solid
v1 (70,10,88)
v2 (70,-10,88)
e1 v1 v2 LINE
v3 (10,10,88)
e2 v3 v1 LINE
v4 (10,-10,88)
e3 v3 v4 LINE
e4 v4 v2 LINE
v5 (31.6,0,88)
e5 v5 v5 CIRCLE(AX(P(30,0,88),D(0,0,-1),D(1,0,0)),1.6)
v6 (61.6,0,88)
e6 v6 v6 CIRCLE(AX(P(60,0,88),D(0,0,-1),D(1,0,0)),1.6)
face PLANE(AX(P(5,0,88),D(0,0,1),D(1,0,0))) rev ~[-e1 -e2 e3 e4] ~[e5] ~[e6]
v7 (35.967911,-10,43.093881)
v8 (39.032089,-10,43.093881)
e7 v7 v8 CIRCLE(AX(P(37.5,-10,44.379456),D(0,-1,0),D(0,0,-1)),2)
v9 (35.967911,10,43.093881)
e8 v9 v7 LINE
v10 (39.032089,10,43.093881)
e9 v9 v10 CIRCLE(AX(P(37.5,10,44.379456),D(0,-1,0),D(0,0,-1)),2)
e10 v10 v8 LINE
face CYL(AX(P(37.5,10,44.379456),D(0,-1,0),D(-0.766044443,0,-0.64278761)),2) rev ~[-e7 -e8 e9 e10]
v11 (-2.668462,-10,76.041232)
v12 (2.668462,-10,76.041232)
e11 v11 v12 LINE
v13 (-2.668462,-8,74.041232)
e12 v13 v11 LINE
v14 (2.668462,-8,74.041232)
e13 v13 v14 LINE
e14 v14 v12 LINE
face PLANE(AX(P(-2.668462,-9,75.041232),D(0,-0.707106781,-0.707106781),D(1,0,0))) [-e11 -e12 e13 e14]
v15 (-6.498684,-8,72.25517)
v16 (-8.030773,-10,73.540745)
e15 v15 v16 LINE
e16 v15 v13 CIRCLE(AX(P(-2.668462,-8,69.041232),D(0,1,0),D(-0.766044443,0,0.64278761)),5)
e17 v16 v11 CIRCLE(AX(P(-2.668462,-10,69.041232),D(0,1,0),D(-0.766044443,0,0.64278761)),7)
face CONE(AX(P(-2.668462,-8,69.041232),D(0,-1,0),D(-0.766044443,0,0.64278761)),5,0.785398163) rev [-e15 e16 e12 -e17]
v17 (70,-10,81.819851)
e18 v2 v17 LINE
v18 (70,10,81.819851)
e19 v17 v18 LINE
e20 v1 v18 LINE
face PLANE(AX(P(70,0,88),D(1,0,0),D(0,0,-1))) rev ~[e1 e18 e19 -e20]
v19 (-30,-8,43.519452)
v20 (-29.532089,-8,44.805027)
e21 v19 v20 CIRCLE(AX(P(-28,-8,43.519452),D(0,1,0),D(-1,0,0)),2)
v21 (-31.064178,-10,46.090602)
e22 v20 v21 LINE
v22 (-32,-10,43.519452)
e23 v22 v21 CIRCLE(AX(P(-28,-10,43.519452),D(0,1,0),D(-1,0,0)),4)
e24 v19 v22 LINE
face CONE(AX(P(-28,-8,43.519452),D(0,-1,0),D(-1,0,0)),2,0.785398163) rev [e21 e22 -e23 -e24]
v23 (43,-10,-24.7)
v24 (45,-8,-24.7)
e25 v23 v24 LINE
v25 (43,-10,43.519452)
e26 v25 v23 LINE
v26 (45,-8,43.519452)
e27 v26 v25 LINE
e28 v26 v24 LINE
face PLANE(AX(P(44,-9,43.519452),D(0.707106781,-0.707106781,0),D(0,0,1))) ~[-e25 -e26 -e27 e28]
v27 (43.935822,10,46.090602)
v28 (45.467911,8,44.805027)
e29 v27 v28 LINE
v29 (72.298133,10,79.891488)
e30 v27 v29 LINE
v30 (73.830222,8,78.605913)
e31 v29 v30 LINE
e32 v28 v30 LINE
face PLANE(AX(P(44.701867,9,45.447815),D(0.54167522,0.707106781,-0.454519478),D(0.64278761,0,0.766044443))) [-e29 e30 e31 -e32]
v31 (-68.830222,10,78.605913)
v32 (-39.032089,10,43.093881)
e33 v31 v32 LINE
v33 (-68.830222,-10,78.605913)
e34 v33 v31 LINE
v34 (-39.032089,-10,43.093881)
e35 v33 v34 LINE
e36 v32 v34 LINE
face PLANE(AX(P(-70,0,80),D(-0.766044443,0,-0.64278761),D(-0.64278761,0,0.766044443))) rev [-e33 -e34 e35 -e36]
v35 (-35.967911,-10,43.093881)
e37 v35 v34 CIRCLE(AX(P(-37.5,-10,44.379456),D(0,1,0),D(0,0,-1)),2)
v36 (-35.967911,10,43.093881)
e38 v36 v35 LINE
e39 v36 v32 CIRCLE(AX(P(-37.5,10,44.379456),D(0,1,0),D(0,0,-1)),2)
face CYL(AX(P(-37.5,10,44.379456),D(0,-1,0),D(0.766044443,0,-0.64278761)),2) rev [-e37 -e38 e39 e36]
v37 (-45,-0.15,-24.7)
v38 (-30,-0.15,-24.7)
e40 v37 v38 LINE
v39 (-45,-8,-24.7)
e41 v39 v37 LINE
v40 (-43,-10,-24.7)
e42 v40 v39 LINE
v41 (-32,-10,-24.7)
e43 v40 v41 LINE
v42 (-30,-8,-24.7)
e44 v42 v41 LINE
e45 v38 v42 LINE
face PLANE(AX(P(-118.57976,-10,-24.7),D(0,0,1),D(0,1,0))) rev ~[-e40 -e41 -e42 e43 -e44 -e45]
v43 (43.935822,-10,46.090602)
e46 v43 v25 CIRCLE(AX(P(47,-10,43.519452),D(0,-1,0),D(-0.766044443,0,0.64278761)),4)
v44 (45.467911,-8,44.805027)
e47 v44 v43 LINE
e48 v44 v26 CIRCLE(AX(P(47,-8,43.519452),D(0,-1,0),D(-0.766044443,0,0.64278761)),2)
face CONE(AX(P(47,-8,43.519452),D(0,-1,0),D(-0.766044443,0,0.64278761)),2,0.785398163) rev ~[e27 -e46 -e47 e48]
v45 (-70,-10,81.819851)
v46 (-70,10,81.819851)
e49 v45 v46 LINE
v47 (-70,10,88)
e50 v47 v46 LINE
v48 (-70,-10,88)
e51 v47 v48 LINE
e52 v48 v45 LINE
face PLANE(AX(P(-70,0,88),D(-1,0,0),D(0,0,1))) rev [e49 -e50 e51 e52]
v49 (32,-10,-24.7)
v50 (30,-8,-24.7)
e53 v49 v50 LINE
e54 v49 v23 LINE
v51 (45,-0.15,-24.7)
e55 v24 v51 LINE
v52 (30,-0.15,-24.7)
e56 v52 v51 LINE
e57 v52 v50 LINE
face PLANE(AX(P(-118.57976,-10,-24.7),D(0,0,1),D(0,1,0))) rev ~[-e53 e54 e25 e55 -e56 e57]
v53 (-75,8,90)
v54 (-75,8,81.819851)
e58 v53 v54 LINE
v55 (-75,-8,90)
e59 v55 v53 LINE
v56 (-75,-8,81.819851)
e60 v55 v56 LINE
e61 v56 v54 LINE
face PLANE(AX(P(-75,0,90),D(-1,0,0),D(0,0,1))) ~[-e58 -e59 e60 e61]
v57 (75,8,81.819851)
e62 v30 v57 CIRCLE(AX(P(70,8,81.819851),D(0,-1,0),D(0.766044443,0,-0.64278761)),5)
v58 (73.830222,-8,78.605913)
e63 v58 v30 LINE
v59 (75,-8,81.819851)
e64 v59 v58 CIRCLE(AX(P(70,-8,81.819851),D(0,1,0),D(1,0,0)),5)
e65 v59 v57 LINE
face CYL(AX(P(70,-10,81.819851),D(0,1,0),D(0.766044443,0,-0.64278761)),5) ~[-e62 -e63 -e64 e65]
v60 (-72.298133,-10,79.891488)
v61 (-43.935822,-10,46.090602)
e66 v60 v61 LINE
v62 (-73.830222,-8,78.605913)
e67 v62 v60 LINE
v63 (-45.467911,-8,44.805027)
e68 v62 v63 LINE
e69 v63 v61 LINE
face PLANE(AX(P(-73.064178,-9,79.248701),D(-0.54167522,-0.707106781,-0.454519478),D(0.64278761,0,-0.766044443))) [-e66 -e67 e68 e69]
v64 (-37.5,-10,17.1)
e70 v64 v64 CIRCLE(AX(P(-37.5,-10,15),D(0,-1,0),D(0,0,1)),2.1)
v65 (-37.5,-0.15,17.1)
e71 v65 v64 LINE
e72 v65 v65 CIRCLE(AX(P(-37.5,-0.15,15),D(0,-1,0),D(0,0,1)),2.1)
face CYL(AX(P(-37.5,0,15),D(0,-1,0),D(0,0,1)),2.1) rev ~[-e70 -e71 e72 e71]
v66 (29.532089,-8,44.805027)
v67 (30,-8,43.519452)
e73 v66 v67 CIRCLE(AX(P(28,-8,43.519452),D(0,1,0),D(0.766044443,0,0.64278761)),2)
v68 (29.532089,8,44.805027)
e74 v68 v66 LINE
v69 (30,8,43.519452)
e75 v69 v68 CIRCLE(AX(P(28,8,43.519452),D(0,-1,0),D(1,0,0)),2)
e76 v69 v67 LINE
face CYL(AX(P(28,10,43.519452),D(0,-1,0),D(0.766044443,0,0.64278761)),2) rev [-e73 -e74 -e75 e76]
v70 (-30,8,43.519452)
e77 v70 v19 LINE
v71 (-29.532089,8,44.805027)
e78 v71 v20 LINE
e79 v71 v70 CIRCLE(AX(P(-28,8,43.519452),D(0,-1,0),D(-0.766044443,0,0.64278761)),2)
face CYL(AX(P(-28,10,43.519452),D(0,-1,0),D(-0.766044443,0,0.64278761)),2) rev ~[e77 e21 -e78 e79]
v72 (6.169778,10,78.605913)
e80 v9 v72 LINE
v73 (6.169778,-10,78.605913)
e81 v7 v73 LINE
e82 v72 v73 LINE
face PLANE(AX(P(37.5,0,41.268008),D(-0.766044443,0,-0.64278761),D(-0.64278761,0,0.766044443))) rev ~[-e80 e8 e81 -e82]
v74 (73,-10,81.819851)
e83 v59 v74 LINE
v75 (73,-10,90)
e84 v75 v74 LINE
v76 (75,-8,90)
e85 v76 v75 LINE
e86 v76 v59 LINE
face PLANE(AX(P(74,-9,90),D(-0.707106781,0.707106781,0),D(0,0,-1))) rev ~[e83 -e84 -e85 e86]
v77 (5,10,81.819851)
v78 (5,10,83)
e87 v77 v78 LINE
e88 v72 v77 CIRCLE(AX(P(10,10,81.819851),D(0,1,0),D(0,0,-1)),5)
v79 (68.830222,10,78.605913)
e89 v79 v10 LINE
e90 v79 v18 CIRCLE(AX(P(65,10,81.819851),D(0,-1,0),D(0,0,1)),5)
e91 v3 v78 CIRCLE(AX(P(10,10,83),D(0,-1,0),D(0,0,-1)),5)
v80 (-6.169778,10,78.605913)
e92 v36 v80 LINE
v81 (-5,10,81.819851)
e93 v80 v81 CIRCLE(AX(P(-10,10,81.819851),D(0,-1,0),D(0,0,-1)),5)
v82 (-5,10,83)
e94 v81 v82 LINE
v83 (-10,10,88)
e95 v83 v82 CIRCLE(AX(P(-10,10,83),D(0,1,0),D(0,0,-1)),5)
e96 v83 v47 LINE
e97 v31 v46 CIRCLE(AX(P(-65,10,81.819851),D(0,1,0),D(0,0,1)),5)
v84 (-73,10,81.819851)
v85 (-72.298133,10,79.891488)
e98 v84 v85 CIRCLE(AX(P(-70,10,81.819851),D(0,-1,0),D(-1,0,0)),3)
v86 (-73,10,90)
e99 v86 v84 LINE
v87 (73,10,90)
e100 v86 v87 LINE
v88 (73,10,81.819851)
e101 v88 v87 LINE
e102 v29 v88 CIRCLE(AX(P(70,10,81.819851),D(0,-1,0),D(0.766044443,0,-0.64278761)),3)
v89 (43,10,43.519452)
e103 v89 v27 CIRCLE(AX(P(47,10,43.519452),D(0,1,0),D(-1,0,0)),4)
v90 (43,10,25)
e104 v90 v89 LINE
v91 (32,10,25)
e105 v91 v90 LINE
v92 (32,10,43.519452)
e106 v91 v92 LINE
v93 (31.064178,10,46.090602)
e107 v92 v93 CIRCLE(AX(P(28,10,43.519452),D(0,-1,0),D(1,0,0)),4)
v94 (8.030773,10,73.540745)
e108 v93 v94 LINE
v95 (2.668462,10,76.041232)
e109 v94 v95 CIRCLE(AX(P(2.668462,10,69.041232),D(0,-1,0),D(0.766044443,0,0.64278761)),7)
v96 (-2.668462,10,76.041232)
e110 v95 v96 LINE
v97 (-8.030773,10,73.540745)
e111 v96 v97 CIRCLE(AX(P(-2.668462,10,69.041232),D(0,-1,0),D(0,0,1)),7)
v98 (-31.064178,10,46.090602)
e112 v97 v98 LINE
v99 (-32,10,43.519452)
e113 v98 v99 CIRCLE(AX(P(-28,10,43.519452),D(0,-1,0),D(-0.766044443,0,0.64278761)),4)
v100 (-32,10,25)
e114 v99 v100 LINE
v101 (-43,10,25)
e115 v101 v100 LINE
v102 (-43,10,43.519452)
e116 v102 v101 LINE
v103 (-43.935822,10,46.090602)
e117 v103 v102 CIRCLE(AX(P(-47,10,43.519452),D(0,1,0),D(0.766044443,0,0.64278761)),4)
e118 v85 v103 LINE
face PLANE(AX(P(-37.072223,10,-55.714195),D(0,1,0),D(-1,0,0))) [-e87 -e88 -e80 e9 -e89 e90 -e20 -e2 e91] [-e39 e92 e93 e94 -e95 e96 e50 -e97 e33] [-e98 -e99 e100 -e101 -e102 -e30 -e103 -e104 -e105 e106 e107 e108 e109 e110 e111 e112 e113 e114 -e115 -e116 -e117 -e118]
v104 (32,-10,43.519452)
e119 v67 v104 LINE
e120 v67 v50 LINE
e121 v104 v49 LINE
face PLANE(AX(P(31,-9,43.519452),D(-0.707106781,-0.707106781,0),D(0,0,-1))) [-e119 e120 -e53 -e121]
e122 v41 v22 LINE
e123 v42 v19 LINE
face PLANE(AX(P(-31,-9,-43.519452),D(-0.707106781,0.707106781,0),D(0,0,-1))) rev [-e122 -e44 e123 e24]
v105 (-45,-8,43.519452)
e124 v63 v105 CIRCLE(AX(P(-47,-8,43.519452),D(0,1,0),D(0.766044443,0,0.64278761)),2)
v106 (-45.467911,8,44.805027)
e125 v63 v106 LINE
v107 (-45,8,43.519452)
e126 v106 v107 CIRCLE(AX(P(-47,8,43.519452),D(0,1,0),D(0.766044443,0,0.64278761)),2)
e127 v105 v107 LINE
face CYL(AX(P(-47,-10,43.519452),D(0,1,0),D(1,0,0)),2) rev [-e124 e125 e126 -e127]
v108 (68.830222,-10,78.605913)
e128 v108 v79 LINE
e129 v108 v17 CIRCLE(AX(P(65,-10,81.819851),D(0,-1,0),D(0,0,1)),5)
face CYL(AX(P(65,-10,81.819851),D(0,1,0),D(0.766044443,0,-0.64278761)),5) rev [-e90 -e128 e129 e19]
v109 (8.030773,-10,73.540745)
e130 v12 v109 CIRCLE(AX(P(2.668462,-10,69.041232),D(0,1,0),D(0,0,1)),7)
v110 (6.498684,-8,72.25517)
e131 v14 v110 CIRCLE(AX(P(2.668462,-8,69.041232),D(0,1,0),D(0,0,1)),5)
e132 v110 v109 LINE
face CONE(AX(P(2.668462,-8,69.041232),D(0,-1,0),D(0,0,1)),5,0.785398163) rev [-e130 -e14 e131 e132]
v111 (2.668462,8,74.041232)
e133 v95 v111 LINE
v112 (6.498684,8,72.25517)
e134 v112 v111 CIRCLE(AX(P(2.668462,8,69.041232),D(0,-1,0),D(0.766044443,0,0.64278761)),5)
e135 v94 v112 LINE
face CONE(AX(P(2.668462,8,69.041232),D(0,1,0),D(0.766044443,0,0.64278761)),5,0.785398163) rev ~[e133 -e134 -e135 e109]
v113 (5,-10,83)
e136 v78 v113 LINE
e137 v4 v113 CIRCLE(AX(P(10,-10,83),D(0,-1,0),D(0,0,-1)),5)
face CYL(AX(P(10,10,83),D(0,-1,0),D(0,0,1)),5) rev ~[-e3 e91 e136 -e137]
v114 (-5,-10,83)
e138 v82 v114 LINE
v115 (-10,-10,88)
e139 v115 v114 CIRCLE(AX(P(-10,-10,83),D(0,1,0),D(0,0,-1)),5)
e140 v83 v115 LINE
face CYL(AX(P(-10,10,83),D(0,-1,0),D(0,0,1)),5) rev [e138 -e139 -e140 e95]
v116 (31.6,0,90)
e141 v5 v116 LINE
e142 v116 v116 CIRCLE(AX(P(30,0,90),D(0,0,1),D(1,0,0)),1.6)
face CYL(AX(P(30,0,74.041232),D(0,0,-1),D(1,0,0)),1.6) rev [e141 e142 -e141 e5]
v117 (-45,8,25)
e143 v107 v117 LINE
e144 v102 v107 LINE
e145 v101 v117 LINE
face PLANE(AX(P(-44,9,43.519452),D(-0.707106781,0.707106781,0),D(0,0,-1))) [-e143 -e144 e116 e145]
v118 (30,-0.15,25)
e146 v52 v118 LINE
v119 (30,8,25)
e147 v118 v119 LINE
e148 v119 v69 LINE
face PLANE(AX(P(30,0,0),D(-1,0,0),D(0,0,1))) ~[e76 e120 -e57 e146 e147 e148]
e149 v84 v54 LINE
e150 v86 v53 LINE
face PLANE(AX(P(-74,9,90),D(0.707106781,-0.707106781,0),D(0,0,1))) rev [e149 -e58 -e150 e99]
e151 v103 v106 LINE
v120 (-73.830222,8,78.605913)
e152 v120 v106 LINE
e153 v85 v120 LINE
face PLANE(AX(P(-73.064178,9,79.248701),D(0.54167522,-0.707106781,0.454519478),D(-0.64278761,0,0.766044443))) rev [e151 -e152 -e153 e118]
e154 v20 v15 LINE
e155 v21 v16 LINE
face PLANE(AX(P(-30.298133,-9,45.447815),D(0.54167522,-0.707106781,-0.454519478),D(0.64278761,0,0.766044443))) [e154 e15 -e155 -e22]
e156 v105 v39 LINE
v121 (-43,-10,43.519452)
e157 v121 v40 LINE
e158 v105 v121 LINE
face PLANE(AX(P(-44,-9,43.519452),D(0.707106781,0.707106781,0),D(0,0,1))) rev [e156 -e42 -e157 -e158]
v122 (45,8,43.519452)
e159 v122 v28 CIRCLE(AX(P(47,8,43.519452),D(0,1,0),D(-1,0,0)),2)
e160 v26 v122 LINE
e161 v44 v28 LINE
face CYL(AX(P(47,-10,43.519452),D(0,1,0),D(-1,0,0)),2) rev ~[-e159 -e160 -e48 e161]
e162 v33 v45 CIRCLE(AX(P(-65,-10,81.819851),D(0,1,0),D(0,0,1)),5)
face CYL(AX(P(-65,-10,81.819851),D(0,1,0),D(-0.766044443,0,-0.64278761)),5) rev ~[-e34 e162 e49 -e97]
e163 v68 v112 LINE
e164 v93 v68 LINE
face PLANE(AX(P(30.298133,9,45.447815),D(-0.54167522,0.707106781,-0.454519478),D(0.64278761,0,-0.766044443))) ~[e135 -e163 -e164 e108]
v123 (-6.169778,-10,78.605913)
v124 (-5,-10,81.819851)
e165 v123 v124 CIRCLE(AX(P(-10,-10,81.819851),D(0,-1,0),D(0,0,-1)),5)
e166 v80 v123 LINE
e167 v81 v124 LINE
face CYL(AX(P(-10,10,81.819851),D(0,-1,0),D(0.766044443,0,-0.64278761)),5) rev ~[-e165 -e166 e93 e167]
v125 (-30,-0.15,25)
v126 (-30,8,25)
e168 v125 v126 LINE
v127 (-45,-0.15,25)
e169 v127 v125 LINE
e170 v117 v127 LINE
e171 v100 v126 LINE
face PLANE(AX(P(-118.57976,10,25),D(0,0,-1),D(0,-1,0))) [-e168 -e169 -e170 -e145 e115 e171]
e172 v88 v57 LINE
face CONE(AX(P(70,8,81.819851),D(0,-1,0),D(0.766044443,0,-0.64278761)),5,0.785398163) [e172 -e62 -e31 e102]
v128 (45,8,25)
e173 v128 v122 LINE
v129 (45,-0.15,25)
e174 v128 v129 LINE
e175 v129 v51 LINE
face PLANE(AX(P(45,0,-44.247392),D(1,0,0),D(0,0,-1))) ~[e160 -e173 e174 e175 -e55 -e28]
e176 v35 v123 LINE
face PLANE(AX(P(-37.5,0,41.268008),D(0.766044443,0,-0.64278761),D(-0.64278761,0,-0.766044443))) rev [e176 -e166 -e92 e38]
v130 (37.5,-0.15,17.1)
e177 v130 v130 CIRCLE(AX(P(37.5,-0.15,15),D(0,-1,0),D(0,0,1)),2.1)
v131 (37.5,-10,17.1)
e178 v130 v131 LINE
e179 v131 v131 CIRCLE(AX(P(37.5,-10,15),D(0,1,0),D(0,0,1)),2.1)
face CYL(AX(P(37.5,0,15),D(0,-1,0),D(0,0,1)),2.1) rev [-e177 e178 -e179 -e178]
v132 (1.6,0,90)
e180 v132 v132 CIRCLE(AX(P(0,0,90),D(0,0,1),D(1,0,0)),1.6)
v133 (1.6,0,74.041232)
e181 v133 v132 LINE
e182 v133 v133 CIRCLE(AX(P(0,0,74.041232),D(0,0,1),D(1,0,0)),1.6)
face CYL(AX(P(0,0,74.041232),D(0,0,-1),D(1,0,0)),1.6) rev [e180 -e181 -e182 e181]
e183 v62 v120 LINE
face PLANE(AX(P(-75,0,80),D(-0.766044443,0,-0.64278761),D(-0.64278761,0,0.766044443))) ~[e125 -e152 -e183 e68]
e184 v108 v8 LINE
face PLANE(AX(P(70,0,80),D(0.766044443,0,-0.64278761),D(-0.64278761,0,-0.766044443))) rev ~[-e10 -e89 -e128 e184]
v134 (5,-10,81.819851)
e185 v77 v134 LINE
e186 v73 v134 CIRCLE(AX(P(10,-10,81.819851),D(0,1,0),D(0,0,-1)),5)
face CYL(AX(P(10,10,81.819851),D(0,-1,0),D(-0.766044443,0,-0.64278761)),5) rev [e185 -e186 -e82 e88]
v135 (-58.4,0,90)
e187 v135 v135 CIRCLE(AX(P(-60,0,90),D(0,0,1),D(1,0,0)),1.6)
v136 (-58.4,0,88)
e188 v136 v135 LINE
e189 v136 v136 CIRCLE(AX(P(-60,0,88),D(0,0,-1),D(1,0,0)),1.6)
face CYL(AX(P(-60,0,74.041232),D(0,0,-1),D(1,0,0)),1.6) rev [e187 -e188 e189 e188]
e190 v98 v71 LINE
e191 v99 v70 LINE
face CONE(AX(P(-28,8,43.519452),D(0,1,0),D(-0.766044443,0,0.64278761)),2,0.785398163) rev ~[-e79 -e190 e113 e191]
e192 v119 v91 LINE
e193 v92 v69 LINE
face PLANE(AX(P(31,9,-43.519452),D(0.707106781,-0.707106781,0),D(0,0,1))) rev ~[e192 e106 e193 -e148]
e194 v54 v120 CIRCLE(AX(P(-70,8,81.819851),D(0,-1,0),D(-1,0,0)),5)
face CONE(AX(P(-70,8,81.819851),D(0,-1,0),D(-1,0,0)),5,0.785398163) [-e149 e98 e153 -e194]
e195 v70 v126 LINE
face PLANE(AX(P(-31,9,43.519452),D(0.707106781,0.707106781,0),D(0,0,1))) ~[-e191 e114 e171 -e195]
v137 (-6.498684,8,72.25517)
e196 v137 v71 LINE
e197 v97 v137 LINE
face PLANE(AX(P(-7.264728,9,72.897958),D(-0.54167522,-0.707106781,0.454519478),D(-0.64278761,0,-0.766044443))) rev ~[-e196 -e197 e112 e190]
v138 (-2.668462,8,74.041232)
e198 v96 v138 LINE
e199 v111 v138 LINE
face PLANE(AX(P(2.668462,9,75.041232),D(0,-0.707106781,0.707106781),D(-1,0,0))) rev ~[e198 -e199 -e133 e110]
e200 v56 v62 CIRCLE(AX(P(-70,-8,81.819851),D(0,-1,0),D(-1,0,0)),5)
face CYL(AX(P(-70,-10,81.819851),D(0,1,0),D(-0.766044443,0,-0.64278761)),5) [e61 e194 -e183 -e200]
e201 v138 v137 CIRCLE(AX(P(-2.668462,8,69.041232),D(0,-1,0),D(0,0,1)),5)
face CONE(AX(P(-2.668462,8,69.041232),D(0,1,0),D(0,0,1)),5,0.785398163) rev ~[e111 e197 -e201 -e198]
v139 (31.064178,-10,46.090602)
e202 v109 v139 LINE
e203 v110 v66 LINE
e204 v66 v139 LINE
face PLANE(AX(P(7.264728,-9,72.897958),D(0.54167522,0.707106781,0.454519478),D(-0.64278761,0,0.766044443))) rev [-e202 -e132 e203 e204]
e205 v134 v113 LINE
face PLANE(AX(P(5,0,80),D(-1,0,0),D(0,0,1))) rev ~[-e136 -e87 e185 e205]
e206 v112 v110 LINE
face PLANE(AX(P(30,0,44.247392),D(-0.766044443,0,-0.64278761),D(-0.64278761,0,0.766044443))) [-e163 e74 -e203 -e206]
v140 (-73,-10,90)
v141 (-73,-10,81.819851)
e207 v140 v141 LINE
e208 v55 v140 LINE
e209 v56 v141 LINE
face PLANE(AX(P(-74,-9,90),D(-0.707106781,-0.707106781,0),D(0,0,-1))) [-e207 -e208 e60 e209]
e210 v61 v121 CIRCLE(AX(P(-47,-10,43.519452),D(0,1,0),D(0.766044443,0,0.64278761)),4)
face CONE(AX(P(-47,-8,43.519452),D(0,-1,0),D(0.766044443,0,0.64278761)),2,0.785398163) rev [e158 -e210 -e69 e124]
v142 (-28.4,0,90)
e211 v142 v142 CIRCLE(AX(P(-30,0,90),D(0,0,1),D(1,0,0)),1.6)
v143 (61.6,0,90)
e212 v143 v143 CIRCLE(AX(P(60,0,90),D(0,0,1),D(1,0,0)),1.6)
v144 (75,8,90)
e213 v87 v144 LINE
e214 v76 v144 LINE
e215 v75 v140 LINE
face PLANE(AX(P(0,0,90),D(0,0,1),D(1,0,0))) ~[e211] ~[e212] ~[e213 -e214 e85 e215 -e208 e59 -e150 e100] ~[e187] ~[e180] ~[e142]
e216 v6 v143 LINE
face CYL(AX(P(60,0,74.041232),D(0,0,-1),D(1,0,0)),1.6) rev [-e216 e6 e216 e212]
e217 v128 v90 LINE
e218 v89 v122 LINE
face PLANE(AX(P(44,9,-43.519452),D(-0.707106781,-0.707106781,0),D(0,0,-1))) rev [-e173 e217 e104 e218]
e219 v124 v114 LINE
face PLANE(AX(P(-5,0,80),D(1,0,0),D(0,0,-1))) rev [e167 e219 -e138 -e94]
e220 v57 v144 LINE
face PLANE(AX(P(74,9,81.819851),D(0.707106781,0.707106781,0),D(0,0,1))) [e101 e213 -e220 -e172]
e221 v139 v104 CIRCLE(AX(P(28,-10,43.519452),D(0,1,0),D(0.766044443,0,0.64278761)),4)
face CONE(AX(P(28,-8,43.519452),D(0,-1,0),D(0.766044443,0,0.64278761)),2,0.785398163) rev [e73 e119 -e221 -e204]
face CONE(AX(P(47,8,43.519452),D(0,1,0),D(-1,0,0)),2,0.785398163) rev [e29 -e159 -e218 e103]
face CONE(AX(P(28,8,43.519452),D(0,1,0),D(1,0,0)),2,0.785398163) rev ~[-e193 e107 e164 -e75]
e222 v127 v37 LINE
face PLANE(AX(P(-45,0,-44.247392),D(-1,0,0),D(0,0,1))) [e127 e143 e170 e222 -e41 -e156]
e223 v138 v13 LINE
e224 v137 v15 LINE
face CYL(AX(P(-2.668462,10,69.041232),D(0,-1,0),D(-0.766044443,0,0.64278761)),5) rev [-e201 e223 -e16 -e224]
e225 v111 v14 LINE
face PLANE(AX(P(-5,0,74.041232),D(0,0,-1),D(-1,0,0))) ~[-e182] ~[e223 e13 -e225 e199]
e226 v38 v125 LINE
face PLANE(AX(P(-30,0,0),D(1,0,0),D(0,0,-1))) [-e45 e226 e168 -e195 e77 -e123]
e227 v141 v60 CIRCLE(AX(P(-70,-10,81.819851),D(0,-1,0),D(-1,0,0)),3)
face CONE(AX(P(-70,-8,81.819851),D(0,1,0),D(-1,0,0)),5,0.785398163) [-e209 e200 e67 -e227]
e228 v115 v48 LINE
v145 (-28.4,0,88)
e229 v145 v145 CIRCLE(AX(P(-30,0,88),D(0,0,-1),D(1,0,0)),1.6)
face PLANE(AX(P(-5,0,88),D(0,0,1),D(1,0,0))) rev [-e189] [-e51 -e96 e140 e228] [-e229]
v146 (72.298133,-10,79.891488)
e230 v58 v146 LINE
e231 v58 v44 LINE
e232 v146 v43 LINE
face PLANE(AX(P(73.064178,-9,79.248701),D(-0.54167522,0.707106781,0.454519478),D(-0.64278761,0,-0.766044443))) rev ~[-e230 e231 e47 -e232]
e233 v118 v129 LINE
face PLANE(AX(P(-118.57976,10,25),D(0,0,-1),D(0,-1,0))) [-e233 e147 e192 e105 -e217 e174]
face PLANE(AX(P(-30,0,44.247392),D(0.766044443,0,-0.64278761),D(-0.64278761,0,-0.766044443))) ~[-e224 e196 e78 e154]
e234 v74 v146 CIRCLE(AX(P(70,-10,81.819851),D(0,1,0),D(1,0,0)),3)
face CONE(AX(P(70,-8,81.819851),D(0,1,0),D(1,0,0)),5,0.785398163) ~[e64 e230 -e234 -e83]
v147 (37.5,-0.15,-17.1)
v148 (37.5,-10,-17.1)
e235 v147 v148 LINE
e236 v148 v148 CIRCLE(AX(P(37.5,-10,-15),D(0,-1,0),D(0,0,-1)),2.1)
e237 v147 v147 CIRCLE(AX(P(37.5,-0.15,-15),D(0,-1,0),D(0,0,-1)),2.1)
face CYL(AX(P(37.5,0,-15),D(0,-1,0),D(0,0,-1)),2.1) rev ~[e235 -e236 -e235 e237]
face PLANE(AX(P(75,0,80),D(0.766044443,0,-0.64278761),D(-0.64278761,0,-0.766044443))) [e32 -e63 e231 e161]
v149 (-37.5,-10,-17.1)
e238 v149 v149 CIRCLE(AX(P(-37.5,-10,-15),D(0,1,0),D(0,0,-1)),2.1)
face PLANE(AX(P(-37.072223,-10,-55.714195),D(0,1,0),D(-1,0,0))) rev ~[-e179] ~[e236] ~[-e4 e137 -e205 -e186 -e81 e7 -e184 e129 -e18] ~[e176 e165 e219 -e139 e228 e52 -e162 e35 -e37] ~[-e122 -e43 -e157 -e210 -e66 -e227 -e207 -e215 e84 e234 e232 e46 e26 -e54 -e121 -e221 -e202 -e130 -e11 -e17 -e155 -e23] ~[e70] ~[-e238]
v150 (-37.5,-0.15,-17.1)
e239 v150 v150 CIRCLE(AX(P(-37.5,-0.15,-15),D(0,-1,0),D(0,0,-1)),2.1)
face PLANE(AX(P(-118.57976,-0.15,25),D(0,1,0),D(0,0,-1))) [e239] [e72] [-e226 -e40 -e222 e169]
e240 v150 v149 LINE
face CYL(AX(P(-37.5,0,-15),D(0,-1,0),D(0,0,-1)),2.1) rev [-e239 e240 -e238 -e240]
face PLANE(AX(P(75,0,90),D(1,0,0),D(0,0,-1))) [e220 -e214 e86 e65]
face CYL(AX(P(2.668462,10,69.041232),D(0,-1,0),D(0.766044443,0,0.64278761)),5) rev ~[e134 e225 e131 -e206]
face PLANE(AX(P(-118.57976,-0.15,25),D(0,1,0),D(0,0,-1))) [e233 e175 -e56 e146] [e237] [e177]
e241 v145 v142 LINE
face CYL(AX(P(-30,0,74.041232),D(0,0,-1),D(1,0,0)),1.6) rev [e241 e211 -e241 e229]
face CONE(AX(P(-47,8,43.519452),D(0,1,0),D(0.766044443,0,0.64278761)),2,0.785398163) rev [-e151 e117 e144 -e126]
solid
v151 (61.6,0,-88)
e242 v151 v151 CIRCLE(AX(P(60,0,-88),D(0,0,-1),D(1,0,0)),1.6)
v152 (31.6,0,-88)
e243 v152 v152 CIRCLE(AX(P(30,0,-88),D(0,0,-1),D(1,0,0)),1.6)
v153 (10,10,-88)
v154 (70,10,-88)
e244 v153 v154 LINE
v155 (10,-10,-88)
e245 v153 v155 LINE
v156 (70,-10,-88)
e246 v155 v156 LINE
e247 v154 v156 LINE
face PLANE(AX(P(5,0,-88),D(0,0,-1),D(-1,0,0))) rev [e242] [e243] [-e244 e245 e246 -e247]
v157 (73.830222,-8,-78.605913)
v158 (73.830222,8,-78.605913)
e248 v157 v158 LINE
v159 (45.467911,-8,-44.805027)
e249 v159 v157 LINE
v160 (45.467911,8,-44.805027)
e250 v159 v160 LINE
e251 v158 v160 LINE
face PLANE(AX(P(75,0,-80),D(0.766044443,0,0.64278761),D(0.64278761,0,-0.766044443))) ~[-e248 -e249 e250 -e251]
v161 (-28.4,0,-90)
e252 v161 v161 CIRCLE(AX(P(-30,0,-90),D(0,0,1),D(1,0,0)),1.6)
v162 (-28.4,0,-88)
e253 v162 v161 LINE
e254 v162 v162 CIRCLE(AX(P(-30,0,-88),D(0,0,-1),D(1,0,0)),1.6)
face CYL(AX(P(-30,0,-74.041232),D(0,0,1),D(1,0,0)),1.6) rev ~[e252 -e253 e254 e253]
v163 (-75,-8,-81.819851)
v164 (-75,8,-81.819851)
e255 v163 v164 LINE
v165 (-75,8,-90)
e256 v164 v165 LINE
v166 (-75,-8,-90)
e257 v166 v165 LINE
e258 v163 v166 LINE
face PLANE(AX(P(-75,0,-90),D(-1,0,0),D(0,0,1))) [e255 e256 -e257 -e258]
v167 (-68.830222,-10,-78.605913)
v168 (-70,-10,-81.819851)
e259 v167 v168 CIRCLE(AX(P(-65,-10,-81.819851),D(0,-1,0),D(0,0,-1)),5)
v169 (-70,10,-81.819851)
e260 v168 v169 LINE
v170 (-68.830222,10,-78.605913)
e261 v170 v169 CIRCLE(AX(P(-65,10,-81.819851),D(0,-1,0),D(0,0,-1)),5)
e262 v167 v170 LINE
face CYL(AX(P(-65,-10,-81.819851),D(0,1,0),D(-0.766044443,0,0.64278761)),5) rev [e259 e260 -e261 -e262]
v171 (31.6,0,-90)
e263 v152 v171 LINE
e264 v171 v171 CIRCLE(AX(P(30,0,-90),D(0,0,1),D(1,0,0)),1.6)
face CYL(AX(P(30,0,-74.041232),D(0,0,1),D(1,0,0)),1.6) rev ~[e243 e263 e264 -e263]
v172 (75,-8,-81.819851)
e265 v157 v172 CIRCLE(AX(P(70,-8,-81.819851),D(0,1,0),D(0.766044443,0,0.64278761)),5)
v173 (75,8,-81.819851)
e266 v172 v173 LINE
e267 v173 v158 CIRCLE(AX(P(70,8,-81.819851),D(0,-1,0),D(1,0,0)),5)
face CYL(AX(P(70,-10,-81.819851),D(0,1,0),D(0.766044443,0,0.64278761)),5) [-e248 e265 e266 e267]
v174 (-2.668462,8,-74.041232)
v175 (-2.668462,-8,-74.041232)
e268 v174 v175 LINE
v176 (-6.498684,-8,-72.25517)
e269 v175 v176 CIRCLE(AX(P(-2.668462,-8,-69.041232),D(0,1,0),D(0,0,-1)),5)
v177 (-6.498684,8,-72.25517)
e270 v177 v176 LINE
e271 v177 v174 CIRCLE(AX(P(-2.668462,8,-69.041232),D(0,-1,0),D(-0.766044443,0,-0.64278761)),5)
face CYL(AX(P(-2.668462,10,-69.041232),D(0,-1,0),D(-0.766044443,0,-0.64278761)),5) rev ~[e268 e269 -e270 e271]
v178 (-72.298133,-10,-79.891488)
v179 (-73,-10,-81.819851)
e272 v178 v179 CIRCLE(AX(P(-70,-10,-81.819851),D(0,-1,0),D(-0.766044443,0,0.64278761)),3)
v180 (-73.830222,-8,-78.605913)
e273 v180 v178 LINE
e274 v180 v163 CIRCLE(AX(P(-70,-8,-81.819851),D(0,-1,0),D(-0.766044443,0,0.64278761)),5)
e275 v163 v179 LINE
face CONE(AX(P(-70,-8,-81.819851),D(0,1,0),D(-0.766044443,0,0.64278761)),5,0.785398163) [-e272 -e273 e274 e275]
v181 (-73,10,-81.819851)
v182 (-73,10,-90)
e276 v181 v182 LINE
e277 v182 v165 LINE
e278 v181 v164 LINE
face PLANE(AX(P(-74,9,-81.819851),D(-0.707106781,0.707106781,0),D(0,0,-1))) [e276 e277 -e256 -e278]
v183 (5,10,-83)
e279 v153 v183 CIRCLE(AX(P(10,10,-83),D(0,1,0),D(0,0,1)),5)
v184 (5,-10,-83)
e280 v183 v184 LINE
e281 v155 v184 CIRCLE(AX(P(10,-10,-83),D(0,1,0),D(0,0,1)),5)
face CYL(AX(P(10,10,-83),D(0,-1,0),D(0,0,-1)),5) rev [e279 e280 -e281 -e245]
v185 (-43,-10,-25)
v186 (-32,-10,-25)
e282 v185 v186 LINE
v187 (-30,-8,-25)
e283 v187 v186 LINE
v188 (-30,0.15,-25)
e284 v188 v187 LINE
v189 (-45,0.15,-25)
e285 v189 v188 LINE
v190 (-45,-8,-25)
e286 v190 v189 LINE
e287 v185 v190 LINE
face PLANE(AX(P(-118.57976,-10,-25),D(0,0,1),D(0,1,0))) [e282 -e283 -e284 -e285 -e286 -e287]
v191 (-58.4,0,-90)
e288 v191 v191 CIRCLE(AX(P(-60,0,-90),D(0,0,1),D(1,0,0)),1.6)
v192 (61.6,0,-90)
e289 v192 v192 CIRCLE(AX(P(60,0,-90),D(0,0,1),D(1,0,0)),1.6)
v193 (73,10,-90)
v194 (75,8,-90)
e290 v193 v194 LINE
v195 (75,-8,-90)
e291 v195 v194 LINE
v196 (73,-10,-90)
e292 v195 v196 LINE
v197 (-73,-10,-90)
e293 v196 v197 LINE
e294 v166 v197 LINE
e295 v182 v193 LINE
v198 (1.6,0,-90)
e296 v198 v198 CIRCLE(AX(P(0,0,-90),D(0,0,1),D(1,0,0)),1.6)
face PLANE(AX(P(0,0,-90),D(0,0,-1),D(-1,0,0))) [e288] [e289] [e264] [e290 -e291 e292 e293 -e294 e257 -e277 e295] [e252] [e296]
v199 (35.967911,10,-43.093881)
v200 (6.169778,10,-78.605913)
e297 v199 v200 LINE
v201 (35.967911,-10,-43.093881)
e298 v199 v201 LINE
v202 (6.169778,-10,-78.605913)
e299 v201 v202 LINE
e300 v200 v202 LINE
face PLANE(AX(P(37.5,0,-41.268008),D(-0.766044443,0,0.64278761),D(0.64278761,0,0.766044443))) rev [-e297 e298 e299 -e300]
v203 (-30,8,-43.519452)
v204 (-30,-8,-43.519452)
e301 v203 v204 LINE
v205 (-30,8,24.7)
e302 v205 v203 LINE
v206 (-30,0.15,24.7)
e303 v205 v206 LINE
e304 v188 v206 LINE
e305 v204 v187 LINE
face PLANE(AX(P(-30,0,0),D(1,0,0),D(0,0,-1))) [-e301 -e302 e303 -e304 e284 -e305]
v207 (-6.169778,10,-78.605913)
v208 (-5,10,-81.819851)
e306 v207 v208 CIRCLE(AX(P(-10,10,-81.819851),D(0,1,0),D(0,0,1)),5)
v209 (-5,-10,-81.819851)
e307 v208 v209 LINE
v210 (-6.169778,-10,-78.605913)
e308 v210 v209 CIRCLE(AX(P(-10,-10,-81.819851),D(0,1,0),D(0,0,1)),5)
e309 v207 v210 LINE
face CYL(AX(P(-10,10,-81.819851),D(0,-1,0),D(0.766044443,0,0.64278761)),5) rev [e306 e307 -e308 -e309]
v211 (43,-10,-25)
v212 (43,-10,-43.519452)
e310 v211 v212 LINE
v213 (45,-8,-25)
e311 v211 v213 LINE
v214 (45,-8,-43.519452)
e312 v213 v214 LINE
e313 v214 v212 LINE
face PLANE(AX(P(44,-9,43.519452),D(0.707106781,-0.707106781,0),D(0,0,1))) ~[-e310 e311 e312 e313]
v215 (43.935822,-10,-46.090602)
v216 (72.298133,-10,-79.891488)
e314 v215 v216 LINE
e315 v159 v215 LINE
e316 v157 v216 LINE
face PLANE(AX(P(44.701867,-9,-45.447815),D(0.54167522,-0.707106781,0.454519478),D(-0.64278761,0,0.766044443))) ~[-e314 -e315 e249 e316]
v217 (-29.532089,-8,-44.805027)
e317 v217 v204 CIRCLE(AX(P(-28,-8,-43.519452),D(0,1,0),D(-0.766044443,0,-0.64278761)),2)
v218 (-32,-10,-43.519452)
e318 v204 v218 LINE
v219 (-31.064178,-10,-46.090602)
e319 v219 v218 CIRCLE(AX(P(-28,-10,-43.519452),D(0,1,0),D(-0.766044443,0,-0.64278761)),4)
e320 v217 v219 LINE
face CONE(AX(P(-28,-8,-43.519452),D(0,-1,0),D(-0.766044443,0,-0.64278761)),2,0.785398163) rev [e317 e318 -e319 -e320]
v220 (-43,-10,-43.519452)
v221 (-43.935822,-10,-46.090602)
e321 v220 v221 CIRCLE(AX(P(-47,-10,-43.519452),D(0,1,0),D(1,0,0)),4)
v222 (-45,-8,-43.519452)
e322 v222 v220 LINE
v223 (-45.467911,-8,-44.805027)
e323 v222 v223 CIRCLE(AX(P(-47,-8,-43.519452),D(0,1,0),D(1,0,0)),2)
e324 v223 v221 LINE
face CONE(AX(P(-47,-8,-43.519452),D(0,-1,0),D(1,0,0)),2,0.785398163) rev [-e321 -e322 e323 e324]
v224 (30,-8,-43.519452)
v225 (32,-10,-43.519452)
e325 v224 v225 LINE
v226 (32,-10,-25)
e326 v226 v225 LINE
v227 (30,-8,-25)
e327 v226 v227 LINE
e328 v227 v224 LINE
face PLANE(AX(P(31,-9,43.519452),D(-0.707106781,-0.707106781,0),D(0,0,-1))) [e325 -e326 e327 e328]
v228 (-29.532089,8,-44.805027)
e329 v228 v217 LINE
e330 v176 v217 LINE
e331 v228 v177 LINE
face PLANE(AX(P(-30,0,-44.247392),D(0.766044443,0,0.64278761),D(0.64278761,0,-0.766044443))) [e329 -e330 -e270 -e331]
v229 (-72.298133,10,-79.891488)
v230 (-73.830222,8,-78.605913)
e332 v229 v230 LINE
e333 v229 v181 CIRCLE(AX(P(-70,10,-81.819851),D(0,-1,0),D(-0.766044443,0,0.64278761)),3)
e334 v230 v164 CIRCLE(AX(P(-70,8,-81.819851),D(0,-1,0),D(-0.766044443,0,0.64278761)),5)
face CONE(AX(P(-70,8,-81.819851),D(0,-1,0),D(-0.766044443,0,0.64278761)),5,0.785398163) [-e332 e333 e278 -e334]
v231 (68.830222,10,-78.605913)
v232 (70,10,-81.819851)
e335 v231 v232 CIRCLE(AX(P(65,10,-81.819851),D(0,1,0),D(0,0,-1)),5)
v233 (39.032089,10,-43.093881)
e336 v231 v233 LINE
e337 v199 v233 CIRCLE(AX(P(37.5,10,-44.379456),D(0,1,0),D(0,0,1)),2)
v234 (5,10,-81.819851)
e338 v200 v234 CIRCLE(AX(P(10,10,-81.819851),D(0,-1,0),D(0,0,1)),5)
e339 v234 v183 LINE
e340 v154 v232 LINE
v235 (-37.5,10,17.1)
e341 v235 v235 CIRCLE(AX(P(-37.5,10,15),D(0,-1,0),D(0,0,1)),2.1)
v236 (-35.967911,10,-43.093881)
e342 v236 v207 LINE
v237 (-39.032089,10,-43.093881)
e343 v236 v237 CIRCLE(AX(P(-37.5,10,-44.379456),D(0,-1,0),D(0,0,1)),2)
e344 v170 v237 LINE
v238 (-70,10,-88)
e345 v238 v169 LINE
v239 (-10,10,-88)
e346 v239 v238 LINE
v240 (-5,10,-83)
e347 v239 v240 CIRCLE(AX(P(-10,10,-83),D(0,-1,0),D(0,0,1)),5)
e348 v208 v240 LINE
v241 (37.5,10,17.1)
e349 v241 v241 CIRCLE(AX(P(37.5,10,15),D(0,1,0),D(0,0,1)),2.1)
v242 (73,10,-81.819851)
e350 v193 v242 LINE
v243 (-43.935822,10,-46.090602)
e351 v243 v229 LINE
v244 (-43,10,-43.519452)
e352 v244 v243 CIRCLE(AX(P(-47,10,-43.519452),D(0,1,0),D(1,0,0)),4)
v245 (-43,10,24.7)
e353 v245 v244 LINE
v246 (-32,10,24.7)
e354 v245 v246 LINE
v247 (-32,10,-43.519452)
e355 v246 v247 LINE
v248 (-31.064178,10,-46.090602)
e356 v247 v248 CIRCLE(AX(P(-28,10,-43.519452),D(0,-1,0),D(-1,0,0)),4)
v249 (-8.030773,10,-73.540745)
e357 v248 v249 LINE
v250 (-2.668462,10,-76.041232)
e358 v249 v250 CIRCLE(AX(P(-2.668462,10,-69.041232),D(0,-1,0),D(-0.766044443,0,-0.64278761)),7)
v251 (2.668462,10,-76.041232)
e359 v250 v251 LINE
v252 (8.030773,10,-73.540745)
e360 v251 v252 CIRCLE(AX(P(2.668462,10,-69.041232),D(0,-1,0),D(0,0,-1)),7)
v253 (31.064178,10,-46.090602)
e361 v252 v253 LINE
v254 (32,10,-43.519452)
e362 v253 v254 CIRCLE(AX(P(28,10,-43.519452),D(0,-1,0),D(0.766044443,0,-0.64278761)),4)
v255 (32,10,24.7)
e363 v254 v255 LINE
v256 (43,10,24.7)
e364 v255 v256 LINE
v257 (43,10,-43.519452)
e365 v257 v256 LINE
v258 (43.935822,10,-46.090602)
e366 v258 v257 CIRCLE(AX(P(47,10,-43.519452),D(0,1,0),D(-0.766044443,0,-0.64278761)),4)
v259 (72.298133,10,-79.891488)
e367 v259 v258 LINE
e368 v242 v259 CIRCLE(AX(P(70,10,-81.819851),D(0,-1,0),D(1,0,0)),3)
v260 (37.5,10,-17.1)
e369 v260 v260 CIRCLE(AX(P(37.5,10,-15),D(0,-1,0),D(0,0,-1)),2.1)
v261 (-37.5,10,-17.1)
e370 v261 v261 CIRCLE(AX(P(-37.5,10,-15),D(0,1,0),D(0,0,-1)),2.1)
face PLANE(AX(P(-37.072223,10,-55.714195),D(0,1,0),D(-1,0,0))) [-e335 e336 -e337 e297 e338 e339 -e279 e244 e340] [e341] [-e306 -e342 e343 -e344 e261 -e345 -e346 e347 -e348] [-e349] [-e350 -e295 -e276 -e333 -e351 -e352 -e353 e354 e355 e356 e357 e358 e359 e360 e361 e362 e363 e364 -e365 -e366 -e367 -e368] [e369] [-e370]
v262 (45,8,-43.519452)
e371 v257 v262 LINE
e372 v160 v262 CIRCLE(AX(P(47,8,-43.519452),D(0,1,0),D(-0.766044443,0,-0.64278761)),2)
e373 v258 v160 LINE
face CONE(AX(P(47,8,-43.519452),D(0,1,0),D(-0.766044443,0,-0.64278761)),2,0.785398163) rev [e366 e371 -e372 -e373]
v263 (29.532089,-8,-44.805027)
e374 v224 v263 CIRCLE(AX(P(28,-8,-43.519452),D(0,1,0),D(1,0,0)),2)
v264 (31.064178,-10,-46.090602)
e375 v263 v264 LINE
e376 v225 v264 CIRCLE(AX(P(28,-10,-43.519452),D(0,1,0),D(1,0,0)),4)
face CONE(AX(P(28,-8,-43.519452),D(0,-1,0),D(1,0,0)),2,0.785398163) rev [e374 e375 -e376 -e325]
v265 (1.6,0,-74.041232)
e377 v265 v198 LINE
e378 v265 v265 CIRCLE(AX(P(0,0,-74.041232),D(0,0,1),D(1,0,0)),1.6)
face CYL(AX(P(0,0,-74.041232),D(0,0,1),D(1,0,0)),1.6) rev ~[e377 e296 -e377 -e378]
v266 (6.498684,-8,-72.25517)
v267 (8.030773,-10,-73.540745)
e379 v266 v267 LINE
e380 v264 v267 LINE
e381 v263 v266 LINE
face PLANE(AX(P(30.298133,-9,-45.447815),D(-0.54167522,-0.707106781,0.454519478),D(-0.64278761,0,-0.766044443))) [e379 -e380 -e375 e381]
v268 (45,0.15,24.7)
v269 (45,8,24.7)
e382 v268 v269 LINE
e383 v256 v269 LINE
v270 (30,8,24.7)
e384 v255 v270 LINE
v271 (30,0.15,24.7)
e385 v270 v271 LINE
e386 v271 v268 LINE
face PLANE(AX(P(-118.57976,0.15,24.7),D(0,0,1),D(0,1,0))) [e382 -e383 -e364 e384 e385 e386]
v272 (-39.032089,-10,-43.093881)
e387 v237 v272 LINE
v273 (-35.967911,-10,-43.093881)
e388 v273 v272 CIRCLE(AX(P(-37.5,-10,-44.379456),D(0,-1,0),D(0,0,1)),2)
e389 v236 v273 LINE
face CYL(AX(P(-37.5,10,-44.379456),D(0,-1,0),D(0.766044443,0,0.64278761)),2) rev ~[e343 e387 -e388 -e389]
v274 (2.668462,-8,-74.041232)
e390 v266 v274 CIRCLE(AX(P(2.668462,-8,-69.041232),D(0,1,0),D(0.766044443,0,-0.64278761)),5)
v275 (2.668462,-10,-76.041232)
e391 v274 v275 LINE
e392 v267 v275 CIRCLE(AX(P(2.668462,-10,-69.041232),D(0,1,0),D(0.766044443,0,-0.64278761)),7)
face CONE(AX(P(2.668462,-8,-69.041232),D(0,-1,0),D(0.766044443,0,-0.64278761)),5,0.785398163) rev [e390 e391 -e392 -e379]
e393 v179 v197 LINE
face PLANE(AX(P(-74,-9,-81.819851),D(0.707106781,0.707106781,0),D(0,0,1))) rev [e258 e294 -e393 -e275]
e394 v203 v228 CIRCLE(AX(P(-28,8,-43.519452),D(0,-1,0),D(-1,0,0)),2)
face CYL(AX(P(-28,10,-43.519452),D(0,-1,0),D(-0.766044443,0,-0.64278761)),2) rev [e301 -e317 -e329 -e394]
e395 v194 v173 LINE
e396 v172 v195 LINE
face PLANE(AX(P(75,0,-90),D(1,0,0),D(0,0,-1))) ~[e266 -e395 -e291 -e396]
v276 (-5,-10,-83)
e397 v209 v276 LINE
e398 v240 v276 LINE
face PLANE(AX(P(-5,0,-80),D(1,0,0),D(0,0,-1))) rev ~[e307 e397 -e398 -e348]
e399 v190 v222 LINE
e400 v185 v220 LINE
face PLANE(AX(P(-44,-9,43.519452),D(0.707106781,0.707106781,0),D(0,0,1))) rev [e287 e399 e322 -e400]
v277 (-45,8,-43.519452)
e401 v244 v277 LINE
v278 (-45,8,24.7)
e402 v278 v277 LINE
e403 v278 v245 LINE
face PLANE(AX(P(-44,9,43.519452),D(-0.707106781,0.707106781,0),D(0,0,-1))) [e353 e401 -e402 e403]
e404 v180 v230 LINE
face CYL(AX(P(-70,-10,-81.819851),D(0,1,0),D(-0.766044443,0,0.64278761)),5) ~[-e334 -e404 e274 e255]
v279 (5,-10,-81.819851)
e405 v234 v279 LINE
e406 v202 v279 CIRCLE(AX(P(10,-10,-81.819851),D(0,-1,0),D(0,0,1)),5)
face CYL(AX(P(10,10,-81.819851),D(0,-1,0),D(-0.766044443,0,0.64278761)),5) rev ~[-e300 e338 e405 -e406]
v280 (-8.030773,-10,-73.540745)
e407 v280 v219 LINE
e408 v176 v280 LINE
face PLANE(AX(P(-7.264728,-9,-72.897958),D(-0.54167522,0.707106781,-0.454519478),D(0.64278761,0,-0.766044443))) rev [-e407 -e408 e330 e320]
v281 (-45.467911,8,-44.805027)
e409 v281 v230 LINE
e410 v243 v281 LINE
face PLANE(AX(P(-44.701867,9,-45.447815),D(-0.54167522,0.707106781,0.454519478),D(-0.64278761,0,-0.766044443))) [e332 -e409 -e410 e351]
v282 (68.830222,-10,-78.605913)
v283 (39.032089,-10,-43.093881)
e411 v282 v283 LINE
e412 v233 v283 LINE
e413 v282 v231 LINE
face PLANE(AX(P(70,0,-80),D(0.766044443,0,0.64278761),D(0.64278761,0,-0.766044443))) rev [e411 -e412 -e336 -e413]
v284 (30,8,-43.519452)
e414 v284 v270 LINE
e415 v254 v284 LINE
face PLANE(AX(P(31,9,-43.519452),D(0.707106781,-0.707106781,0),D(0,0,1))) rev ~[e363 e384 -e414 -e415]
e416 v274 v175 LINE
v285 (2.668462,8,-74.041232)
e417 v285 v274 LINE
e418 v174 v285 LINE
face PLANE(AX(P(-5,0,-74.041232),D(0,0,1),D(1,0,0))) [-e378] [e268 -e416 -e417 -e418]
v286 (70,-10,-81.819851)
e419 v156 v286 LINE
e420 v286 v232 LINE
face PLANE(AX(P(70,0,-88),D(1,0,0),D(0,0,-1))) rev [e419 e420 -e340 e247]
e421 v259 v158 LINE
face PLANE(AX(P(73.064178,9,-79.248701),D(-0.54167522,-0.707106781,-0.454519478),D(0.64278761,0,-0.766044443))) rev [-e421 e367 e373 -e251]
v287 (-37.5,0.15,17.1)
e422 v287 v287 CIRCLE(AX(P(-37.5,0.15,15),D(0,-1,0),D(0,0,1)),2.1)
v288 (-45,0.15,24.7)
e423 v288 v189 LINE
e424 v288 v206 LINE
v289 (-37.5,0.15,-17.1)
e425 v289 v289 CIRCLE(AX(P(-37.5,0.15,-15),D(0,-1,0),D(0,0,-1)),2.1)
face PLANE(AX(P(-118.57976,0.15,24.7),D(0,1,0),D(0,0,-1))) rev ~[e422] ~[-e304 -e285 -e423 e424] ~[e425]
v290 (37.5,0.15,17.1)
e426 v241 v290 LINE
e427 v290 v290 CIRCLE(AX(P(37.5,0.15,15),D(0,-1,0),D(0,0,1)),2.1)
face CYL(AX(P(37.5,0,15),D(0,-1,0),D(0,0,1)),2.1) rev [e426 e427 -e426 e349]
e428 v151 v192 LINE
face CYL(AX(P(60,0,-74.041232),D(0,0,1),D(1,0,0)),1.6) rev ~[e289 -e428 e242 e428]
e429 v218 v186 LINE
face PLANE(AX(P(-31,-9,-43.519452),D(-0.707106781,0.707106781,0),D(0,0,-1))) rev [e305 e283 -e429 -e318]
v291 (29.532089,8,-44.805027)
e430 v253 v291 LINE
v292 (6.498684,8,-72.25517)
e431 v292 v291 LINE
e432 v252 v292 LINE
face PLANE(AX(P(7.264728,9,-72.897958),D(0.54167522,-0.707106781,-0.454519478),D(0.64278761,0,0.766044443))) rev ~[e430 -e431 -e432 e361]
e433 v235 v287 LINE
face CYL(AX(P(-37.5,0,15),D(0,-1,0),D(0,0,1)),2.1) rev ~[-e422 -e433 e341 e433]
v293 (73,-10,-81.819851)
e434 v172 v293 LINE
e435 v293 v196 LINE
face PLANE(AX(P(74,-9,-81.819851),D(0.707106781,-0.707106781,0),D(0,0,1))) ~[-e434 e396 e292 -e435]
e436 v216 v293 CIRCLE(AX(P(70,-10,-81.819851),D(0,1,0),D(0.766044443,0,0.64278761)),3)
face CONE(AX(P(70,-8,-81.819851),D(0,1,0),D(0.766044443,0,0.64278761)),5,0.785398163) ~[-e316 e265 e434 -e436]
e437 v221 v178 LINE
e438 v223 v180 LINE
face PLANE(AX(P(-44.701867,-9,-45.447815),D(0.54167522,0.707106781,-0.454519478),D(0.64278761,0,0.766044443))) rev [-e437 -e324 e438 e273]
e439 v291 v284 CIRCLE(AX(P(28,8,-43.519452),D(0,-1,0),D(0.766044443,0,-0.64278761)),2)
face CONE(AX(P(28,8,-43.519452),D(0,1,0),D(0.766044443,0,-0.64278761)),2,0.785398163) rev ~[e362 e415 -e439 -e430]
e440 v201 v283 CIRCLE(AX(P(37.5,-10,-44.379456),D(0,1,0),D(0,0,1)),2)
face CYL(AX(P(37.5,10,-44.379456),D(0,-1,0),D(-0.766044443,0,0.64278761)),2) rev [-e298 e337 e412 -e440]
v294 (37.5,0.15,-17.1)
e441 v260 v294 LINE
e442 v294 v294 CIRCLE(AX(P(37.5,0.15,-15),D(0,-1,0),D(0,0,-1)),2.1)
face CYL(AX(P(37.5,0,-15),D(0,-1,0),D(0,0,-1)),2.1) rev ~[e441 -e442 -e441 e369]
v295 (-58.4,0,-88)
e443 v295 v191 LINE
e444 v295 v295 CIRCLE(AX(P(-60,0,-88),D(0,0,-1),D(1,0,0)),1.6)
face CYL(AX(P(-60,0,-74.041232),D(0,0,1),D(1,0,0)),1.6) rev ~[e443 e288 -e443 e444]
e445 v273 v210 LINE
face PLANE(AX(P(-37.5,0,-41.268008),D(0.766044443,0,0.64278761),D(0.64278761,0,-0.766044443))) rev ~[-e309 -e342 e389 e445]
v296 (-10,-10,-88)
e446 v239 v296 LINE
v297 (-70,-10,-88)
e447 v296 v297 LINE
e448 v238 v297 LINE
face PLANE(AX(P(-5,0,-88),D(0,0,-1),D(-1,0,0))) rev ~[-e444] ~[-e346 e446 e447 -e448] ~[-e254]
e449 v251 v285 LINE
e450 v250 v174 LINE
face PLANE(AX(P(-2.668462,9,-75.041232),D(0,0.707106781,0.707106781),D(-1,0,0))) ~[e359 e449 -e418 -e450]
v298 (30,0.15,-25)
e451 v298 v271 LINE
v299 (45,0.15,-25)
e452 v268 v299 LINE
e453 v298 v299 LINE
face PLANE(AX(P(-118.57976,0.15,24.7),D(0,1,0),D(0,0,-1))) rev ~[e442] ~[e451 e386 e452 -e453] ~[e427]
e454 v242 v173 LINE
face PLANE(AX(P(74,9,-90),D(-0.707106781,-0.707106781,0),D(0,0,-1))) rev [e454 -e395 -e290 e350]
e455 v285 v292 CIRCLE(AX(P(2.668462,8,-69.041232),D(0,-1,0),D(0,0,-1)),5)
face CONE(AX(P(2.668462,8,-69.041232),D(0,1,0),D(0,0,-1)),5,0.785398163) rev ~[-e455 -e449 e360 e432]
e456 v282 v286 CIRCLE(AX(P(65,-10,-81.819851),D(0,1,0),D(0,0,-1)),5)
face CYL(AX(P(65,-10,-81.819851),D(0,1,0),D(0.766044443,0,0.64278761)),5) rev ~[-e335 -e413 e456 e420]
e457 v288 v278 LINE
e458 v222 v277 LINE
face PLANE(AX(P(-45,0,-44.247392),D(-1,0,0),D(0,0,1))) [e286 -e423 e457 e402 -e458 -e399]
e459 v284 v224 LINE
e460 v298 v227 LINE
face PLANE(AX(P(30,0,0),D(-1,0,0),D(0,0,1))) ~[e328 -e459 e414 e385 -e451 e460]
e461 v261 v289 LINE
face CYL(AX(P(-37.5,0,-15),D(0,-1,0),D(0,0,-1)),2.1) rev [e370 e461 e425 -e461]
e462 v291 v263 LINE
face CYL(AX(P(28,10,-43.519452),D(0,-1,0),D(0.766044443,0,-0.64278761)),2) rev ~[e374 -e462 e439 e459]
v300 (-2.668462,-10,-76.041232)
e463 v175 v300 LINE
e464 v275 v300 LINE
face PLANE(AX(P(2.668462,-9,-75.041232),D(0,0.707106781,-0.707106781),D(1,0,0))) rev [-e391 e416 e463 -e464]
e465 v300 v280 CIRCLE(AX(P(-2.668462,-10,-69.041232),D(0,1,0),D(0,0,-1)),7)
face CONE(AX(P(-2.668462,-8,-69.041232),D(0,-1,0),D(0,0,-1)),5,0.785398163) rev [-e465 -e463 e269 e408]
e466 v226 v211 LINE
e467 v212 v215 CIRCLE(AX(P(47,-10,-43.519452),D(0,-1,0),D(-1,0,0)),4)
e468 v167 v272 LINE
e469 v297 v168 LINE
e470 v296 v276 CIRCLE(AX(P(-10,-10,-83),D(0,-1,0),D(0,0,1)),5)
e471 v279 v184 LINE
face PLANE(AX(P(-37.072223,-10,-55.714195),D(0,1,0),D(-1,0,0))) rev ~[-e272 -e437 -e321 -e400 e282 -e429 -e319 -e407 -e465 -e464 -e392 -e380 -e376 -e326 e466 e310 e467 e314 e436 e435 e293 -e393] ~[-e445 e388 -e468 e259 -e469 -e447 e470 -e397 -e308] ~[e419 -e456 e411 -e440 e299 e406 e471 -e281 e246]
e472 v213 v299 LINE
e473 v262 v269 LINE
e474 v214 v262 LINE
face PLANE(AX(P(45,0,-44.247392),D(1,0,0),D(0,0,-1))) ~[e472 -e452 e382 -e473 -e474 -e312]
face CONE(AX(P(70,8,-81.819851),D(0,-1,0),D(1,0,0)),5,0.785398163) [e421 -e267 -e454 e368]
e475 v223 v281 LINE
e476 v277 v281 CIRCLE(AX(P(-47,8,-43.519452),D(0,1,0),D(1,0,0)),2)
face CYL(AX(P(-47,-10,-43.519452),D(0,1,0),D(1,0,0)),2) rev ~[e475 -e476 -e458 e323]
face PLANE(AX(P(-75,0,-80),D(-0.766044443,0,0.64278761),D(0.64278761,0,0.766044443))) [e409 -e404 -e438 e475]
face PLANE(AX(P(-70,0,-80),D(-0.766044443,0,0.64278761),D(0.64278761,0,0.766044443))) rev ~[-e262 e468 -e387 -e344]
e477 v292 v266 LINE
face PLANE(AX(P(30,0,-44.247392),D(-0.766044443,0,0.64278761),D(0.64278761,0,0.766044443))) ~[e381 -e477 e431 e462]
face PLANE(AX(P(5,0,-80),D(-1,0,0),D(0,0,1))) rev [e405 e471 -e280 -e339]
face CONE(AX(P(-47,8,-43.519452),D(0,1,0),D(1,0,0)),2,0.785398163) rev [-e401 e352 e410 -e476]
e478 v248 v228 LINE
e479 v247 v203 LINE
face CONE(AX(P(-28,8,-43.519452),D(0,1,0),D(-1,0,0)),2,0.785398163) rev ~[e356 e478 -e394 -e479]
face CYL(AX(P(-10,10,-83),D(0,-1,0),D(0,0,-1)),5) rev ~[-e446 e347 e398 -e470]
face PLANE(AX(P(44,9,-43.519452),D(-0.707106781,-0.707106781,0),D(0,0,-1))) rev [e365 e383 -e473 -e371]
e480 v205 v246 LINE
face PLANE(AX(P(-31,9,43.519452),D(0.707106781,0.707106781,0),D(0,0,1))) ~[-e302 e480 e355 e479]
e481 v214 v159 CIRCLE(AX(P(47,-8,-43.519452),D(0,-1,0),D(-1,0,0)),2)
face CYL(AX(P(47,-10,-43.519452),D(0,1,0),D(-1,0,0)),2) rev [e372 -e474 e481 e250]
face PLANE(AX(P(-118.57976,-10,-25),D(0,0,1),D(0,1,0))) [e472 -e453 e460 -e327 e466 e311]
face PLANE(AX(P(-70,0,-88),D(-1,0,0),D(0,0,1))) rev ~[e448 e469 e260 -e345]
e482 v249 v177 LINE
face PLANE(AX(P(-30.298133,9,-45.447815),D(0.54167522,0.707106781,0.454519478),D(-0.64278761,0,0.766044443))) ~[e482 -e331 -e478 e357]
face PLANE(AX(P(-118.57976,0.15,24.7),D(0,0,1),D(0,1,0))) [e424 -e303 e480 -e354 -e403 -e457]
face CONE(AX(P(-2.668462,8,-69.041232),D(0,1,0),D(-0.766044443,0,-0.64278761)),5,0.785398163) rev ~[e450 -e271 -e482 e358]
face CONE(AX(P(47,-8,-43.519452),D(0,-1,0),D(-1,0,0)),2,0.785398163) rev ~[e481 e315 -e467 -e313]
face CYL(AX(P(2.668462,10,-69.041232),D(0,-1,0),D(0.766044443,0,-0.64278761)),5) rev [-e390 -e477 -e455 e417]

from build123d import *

# Parameters (mm, degrees)
SKETCH1_R               = 2.1
BOSS_EXTRUDE1_DEPTH     = 10
FILLET1_R               = 2
FILLET2_R               = 5
CUT_EXTRUDE1_START      = 74.041232
SKETCH3_R               = 1.6
CUT_EXTRUDE1_DEPTH      = 15.958768
CHAMFER1_SIZE           = 2
CUT_EXTRUDE2_DEPTH      = 118.579760163
CUT_EXTRUDE2_DEPTH_BACK = 118.579760163
SKETCH4_W               = 0.3
SKETCH4_H               = 9.85
SKETCH4_W_2             = 50
SKETCH4_H_2             = 0.3


with BuildPart() as part:
    # Sketch1 → Boss-Extrude1 (new, symmetric)
    with BuildSketch(Plane(origin=(0, 0, 0), x_dir=(1, 0, 0), z_dir=(0, 1, 0))):
        Polygon((0, -90), (75, -90), (75, -80), (45, -44.247392222), (45, 0), (30, 0), (30, -44.247392222), (5, -74.041232037), (0, -74.041232037), align=None)
        with Locations(Location((37.5, -15, 0), (0, 0, 270))):
            Circle(SKETCH1_R, mode=Mode.SUBTRACT)
        Polygon((70, -80), (37.5, -41.268008241), (5, -80), (5, -88), (70, -88), align=None, mode=Mode.SUBTRACT)
    extrude(amount=BOSS_EXTRUDE1_DEPTH, both=True)

    # Fillet1
    fillet1_edges = [part.edges().sort_by_distance(p)[0] for p in [
        (30, 0, 44.247392222),
        (45, 0, 44.247392222),
        (37.5, 0, 41.268008241),
    ]]
    fillet(fillet1_edges, radius=FILLET1_R)

    # Fillet2
    fillet2_edges = [part.edges().sort_by_distance(p)[0] for p in [
        (5, 0, 74.041232037),
        (75, 0, 80),
        (70, 0, 80),
        (5, 0, 80),
        (5, 0, 88),
    ]]
    fillet(fillet2_edges, radius=FILLET2_R)

    # Mirror1: part across plane


with BuildPart() as part_1:
    add(part.part)
    add(part.part.mirror(Plane(origin=(0, 0, 0), x_dir=(0, 0, 1), z_dir=(1, 0, 0))))

    # Sketch3 → Cut-Extrude1 (cut)
    with BuildSketch(Plane.XY.offset(CUT_EXTRUDE1_START)):
        Circle(SKETCH3_R)
        with Locations((30, 0)):
            Circle(SKETCH3_R)
        with Locations((60, 0)):
            Circle(SKETCH3_R)
        with Locations((-30, 0)):
            Circle(SKETCH3_R)
        with Locations((-60, 0)):
            Circle(SKETCH3_R)
    extrude(amount=CUT_EXTRUDE1_DEPTH, mode=Mode.SUBTRACT)

    # Mirror2: part across plane


with BuildPart() as part_2:
    add(part_1.part)
    add(part_1.part.mirror(Plane.XY))

    # Chamfer1
    chamfer1_edges = [part_2.edges().sort_by_distance(p)[0] for p in [
        (30, -10, 0),
        (-59.649066665, -10, 61.705470048),
        (-45, -10, 0),
        (-30, -10, 0),
        (-18.015386406, -10, 58.530098529),
        (-75, -10, 85.909925586),
        (-75, 10, 85.909925586),
        (-59.649066665, 10, 61.705470048),
        (-45, 10, 0),
        (-30, 10, 0),
        (-18.015386406, 10, 58.530098529),
        (-29.879385242, 10, 44.20349204),
        (-29.879385242, -10, 44.20349204),
        (-45.120614758, 10, 44.20349204),
        (-45.120614758, -10, 44.20349204),
        (-74.698463104, 10, 80.109750455),
        (-74.698463104, -10, 80.109750455),
        (-4.781553018, 10, 73.572770972),
        (-4.781553018, -10, 73.572770972),
        (75, -10, 85.909925586),
        (-75, 10, -85.909925586),
        (-74.698463104, 10, -80.109750455),
        (-59.649066665, 10, -61.705470048),
        (-45.120614758, 10, -44.20349204),
        (-29.879385242, 10, -44.20349204),
        (-18.015386406, 10, -58.530098529),
        (-4.781553018, 10, -73.572770972),
        (59.649066665, -10, -61.705470048),
        (18.015386406, -10, -58.530098529),
        (0, -10, -74.041232037),
        (-4.781553018, -10, -73.572770972),
        (-29.879385242, -10, -44.20349204),
        (-45.120614758, -10, -44.20349204),
        (-74.698463104, -10, -80.109750455),
        (75, -10, -85.909925586),
        (75, 10, -85.909925586),
        (59.649066665, 10, -61.705470048),
        (18.015386406, 10, -58.530098529),
        (0, 10, -74.041232037),
        (29.879385242, 10, -44.20349204),
        (29.879385242, -10, -44.20349204),
        (45.120614758, 10, -44.20349204),
        (45.120614758, -10, -44.20349204),
        (74.698463104, 10, -80.109750455),
        (74.698463104, -10, -80.109750455),
        (4.781553018, 10, -73.572770972),
        (4.781553018, -10, -73.572770972),
        (30, 10, 0),
        (-75, -10, -85.909925586),
        (-59.649066665, -10, -61.705470048),
        (-18.015386406, -10, -58.530098529),
        (75, 10, 85.909925586),
        (18.015386406, -10, 58.530098529),
        (18.015386406, 10, 58.530098529),
        (45, -10, 0),
        (45, 10, 0),
        (29.879385242, -10, 44.20349204),
        (29.879385242, 10, 44.20349204),
        (45.120614758, -10, 44.20349204),
        (45.120614758, 10, 44.20349204),
        (59.649066665, -10, 61.705470048),
        (59.649066665, 10, 61.705470048),
        (0, -10, 74.041232037),
        (74.698463104, -10, 80.109750455),
        (0, 10, 74.041232037),
        (74.698463104, 10, 80.109750455),
        (4.781553018, -10, 73.572770972),
        (4.781553018, 10, 73.572770972),
    ]]
    chamfer(chamfer1_edges, length=CHAMFER1_SIZE)

    # Sketch4 → Cut-Extrude2 (cut, two sides: drawn at the far end of the back side and taken through both)
    with BuildSketch(Plane(origin=(0, 0, 0), x_dir=(0, 0, -1), z_dir=(1, 0, 0)).offset(-CUT_EXTRUDE2_DEPTH_BACK)):
        with Locations((-24.85, 5.075)):
            Rectangle(SKETCH4_W, SKETCH4_H)
        Rectangle(SKETCH4_W_2, SKETCH4_H_2)
        with Locations((24.85, -5.075)):
            Rectangle(SKETCH4_W, SKETCH4_H)
    extrude(amount=CUT_EXTRUDE2_DEPTH + CUT_EXTRUDE2_DEPTH_BACK, mode=Mode.SUBTRACT)


with BuildPart() as cut_extrude2_piece_1:
    # of the separate pieces the step leaves, piece 1, a body of its own (cut_extrude2_pieces)
    add(part_2.part.solids().sort_by_distance((-73, 10, -90))[0])


with BuildPart() as cut_extrude2_piece_2:
    # of the separate pieces the step leaves, piece 2, a body of its own (cut_extrude2_pieces)
    add(part_2.part.solids().sort_by_distance((6.498683925, 8, 72.255170085))[0])


solid = Compound([cut_extrude2_piece_1.part, cut_extrude2_piece_2.part])
